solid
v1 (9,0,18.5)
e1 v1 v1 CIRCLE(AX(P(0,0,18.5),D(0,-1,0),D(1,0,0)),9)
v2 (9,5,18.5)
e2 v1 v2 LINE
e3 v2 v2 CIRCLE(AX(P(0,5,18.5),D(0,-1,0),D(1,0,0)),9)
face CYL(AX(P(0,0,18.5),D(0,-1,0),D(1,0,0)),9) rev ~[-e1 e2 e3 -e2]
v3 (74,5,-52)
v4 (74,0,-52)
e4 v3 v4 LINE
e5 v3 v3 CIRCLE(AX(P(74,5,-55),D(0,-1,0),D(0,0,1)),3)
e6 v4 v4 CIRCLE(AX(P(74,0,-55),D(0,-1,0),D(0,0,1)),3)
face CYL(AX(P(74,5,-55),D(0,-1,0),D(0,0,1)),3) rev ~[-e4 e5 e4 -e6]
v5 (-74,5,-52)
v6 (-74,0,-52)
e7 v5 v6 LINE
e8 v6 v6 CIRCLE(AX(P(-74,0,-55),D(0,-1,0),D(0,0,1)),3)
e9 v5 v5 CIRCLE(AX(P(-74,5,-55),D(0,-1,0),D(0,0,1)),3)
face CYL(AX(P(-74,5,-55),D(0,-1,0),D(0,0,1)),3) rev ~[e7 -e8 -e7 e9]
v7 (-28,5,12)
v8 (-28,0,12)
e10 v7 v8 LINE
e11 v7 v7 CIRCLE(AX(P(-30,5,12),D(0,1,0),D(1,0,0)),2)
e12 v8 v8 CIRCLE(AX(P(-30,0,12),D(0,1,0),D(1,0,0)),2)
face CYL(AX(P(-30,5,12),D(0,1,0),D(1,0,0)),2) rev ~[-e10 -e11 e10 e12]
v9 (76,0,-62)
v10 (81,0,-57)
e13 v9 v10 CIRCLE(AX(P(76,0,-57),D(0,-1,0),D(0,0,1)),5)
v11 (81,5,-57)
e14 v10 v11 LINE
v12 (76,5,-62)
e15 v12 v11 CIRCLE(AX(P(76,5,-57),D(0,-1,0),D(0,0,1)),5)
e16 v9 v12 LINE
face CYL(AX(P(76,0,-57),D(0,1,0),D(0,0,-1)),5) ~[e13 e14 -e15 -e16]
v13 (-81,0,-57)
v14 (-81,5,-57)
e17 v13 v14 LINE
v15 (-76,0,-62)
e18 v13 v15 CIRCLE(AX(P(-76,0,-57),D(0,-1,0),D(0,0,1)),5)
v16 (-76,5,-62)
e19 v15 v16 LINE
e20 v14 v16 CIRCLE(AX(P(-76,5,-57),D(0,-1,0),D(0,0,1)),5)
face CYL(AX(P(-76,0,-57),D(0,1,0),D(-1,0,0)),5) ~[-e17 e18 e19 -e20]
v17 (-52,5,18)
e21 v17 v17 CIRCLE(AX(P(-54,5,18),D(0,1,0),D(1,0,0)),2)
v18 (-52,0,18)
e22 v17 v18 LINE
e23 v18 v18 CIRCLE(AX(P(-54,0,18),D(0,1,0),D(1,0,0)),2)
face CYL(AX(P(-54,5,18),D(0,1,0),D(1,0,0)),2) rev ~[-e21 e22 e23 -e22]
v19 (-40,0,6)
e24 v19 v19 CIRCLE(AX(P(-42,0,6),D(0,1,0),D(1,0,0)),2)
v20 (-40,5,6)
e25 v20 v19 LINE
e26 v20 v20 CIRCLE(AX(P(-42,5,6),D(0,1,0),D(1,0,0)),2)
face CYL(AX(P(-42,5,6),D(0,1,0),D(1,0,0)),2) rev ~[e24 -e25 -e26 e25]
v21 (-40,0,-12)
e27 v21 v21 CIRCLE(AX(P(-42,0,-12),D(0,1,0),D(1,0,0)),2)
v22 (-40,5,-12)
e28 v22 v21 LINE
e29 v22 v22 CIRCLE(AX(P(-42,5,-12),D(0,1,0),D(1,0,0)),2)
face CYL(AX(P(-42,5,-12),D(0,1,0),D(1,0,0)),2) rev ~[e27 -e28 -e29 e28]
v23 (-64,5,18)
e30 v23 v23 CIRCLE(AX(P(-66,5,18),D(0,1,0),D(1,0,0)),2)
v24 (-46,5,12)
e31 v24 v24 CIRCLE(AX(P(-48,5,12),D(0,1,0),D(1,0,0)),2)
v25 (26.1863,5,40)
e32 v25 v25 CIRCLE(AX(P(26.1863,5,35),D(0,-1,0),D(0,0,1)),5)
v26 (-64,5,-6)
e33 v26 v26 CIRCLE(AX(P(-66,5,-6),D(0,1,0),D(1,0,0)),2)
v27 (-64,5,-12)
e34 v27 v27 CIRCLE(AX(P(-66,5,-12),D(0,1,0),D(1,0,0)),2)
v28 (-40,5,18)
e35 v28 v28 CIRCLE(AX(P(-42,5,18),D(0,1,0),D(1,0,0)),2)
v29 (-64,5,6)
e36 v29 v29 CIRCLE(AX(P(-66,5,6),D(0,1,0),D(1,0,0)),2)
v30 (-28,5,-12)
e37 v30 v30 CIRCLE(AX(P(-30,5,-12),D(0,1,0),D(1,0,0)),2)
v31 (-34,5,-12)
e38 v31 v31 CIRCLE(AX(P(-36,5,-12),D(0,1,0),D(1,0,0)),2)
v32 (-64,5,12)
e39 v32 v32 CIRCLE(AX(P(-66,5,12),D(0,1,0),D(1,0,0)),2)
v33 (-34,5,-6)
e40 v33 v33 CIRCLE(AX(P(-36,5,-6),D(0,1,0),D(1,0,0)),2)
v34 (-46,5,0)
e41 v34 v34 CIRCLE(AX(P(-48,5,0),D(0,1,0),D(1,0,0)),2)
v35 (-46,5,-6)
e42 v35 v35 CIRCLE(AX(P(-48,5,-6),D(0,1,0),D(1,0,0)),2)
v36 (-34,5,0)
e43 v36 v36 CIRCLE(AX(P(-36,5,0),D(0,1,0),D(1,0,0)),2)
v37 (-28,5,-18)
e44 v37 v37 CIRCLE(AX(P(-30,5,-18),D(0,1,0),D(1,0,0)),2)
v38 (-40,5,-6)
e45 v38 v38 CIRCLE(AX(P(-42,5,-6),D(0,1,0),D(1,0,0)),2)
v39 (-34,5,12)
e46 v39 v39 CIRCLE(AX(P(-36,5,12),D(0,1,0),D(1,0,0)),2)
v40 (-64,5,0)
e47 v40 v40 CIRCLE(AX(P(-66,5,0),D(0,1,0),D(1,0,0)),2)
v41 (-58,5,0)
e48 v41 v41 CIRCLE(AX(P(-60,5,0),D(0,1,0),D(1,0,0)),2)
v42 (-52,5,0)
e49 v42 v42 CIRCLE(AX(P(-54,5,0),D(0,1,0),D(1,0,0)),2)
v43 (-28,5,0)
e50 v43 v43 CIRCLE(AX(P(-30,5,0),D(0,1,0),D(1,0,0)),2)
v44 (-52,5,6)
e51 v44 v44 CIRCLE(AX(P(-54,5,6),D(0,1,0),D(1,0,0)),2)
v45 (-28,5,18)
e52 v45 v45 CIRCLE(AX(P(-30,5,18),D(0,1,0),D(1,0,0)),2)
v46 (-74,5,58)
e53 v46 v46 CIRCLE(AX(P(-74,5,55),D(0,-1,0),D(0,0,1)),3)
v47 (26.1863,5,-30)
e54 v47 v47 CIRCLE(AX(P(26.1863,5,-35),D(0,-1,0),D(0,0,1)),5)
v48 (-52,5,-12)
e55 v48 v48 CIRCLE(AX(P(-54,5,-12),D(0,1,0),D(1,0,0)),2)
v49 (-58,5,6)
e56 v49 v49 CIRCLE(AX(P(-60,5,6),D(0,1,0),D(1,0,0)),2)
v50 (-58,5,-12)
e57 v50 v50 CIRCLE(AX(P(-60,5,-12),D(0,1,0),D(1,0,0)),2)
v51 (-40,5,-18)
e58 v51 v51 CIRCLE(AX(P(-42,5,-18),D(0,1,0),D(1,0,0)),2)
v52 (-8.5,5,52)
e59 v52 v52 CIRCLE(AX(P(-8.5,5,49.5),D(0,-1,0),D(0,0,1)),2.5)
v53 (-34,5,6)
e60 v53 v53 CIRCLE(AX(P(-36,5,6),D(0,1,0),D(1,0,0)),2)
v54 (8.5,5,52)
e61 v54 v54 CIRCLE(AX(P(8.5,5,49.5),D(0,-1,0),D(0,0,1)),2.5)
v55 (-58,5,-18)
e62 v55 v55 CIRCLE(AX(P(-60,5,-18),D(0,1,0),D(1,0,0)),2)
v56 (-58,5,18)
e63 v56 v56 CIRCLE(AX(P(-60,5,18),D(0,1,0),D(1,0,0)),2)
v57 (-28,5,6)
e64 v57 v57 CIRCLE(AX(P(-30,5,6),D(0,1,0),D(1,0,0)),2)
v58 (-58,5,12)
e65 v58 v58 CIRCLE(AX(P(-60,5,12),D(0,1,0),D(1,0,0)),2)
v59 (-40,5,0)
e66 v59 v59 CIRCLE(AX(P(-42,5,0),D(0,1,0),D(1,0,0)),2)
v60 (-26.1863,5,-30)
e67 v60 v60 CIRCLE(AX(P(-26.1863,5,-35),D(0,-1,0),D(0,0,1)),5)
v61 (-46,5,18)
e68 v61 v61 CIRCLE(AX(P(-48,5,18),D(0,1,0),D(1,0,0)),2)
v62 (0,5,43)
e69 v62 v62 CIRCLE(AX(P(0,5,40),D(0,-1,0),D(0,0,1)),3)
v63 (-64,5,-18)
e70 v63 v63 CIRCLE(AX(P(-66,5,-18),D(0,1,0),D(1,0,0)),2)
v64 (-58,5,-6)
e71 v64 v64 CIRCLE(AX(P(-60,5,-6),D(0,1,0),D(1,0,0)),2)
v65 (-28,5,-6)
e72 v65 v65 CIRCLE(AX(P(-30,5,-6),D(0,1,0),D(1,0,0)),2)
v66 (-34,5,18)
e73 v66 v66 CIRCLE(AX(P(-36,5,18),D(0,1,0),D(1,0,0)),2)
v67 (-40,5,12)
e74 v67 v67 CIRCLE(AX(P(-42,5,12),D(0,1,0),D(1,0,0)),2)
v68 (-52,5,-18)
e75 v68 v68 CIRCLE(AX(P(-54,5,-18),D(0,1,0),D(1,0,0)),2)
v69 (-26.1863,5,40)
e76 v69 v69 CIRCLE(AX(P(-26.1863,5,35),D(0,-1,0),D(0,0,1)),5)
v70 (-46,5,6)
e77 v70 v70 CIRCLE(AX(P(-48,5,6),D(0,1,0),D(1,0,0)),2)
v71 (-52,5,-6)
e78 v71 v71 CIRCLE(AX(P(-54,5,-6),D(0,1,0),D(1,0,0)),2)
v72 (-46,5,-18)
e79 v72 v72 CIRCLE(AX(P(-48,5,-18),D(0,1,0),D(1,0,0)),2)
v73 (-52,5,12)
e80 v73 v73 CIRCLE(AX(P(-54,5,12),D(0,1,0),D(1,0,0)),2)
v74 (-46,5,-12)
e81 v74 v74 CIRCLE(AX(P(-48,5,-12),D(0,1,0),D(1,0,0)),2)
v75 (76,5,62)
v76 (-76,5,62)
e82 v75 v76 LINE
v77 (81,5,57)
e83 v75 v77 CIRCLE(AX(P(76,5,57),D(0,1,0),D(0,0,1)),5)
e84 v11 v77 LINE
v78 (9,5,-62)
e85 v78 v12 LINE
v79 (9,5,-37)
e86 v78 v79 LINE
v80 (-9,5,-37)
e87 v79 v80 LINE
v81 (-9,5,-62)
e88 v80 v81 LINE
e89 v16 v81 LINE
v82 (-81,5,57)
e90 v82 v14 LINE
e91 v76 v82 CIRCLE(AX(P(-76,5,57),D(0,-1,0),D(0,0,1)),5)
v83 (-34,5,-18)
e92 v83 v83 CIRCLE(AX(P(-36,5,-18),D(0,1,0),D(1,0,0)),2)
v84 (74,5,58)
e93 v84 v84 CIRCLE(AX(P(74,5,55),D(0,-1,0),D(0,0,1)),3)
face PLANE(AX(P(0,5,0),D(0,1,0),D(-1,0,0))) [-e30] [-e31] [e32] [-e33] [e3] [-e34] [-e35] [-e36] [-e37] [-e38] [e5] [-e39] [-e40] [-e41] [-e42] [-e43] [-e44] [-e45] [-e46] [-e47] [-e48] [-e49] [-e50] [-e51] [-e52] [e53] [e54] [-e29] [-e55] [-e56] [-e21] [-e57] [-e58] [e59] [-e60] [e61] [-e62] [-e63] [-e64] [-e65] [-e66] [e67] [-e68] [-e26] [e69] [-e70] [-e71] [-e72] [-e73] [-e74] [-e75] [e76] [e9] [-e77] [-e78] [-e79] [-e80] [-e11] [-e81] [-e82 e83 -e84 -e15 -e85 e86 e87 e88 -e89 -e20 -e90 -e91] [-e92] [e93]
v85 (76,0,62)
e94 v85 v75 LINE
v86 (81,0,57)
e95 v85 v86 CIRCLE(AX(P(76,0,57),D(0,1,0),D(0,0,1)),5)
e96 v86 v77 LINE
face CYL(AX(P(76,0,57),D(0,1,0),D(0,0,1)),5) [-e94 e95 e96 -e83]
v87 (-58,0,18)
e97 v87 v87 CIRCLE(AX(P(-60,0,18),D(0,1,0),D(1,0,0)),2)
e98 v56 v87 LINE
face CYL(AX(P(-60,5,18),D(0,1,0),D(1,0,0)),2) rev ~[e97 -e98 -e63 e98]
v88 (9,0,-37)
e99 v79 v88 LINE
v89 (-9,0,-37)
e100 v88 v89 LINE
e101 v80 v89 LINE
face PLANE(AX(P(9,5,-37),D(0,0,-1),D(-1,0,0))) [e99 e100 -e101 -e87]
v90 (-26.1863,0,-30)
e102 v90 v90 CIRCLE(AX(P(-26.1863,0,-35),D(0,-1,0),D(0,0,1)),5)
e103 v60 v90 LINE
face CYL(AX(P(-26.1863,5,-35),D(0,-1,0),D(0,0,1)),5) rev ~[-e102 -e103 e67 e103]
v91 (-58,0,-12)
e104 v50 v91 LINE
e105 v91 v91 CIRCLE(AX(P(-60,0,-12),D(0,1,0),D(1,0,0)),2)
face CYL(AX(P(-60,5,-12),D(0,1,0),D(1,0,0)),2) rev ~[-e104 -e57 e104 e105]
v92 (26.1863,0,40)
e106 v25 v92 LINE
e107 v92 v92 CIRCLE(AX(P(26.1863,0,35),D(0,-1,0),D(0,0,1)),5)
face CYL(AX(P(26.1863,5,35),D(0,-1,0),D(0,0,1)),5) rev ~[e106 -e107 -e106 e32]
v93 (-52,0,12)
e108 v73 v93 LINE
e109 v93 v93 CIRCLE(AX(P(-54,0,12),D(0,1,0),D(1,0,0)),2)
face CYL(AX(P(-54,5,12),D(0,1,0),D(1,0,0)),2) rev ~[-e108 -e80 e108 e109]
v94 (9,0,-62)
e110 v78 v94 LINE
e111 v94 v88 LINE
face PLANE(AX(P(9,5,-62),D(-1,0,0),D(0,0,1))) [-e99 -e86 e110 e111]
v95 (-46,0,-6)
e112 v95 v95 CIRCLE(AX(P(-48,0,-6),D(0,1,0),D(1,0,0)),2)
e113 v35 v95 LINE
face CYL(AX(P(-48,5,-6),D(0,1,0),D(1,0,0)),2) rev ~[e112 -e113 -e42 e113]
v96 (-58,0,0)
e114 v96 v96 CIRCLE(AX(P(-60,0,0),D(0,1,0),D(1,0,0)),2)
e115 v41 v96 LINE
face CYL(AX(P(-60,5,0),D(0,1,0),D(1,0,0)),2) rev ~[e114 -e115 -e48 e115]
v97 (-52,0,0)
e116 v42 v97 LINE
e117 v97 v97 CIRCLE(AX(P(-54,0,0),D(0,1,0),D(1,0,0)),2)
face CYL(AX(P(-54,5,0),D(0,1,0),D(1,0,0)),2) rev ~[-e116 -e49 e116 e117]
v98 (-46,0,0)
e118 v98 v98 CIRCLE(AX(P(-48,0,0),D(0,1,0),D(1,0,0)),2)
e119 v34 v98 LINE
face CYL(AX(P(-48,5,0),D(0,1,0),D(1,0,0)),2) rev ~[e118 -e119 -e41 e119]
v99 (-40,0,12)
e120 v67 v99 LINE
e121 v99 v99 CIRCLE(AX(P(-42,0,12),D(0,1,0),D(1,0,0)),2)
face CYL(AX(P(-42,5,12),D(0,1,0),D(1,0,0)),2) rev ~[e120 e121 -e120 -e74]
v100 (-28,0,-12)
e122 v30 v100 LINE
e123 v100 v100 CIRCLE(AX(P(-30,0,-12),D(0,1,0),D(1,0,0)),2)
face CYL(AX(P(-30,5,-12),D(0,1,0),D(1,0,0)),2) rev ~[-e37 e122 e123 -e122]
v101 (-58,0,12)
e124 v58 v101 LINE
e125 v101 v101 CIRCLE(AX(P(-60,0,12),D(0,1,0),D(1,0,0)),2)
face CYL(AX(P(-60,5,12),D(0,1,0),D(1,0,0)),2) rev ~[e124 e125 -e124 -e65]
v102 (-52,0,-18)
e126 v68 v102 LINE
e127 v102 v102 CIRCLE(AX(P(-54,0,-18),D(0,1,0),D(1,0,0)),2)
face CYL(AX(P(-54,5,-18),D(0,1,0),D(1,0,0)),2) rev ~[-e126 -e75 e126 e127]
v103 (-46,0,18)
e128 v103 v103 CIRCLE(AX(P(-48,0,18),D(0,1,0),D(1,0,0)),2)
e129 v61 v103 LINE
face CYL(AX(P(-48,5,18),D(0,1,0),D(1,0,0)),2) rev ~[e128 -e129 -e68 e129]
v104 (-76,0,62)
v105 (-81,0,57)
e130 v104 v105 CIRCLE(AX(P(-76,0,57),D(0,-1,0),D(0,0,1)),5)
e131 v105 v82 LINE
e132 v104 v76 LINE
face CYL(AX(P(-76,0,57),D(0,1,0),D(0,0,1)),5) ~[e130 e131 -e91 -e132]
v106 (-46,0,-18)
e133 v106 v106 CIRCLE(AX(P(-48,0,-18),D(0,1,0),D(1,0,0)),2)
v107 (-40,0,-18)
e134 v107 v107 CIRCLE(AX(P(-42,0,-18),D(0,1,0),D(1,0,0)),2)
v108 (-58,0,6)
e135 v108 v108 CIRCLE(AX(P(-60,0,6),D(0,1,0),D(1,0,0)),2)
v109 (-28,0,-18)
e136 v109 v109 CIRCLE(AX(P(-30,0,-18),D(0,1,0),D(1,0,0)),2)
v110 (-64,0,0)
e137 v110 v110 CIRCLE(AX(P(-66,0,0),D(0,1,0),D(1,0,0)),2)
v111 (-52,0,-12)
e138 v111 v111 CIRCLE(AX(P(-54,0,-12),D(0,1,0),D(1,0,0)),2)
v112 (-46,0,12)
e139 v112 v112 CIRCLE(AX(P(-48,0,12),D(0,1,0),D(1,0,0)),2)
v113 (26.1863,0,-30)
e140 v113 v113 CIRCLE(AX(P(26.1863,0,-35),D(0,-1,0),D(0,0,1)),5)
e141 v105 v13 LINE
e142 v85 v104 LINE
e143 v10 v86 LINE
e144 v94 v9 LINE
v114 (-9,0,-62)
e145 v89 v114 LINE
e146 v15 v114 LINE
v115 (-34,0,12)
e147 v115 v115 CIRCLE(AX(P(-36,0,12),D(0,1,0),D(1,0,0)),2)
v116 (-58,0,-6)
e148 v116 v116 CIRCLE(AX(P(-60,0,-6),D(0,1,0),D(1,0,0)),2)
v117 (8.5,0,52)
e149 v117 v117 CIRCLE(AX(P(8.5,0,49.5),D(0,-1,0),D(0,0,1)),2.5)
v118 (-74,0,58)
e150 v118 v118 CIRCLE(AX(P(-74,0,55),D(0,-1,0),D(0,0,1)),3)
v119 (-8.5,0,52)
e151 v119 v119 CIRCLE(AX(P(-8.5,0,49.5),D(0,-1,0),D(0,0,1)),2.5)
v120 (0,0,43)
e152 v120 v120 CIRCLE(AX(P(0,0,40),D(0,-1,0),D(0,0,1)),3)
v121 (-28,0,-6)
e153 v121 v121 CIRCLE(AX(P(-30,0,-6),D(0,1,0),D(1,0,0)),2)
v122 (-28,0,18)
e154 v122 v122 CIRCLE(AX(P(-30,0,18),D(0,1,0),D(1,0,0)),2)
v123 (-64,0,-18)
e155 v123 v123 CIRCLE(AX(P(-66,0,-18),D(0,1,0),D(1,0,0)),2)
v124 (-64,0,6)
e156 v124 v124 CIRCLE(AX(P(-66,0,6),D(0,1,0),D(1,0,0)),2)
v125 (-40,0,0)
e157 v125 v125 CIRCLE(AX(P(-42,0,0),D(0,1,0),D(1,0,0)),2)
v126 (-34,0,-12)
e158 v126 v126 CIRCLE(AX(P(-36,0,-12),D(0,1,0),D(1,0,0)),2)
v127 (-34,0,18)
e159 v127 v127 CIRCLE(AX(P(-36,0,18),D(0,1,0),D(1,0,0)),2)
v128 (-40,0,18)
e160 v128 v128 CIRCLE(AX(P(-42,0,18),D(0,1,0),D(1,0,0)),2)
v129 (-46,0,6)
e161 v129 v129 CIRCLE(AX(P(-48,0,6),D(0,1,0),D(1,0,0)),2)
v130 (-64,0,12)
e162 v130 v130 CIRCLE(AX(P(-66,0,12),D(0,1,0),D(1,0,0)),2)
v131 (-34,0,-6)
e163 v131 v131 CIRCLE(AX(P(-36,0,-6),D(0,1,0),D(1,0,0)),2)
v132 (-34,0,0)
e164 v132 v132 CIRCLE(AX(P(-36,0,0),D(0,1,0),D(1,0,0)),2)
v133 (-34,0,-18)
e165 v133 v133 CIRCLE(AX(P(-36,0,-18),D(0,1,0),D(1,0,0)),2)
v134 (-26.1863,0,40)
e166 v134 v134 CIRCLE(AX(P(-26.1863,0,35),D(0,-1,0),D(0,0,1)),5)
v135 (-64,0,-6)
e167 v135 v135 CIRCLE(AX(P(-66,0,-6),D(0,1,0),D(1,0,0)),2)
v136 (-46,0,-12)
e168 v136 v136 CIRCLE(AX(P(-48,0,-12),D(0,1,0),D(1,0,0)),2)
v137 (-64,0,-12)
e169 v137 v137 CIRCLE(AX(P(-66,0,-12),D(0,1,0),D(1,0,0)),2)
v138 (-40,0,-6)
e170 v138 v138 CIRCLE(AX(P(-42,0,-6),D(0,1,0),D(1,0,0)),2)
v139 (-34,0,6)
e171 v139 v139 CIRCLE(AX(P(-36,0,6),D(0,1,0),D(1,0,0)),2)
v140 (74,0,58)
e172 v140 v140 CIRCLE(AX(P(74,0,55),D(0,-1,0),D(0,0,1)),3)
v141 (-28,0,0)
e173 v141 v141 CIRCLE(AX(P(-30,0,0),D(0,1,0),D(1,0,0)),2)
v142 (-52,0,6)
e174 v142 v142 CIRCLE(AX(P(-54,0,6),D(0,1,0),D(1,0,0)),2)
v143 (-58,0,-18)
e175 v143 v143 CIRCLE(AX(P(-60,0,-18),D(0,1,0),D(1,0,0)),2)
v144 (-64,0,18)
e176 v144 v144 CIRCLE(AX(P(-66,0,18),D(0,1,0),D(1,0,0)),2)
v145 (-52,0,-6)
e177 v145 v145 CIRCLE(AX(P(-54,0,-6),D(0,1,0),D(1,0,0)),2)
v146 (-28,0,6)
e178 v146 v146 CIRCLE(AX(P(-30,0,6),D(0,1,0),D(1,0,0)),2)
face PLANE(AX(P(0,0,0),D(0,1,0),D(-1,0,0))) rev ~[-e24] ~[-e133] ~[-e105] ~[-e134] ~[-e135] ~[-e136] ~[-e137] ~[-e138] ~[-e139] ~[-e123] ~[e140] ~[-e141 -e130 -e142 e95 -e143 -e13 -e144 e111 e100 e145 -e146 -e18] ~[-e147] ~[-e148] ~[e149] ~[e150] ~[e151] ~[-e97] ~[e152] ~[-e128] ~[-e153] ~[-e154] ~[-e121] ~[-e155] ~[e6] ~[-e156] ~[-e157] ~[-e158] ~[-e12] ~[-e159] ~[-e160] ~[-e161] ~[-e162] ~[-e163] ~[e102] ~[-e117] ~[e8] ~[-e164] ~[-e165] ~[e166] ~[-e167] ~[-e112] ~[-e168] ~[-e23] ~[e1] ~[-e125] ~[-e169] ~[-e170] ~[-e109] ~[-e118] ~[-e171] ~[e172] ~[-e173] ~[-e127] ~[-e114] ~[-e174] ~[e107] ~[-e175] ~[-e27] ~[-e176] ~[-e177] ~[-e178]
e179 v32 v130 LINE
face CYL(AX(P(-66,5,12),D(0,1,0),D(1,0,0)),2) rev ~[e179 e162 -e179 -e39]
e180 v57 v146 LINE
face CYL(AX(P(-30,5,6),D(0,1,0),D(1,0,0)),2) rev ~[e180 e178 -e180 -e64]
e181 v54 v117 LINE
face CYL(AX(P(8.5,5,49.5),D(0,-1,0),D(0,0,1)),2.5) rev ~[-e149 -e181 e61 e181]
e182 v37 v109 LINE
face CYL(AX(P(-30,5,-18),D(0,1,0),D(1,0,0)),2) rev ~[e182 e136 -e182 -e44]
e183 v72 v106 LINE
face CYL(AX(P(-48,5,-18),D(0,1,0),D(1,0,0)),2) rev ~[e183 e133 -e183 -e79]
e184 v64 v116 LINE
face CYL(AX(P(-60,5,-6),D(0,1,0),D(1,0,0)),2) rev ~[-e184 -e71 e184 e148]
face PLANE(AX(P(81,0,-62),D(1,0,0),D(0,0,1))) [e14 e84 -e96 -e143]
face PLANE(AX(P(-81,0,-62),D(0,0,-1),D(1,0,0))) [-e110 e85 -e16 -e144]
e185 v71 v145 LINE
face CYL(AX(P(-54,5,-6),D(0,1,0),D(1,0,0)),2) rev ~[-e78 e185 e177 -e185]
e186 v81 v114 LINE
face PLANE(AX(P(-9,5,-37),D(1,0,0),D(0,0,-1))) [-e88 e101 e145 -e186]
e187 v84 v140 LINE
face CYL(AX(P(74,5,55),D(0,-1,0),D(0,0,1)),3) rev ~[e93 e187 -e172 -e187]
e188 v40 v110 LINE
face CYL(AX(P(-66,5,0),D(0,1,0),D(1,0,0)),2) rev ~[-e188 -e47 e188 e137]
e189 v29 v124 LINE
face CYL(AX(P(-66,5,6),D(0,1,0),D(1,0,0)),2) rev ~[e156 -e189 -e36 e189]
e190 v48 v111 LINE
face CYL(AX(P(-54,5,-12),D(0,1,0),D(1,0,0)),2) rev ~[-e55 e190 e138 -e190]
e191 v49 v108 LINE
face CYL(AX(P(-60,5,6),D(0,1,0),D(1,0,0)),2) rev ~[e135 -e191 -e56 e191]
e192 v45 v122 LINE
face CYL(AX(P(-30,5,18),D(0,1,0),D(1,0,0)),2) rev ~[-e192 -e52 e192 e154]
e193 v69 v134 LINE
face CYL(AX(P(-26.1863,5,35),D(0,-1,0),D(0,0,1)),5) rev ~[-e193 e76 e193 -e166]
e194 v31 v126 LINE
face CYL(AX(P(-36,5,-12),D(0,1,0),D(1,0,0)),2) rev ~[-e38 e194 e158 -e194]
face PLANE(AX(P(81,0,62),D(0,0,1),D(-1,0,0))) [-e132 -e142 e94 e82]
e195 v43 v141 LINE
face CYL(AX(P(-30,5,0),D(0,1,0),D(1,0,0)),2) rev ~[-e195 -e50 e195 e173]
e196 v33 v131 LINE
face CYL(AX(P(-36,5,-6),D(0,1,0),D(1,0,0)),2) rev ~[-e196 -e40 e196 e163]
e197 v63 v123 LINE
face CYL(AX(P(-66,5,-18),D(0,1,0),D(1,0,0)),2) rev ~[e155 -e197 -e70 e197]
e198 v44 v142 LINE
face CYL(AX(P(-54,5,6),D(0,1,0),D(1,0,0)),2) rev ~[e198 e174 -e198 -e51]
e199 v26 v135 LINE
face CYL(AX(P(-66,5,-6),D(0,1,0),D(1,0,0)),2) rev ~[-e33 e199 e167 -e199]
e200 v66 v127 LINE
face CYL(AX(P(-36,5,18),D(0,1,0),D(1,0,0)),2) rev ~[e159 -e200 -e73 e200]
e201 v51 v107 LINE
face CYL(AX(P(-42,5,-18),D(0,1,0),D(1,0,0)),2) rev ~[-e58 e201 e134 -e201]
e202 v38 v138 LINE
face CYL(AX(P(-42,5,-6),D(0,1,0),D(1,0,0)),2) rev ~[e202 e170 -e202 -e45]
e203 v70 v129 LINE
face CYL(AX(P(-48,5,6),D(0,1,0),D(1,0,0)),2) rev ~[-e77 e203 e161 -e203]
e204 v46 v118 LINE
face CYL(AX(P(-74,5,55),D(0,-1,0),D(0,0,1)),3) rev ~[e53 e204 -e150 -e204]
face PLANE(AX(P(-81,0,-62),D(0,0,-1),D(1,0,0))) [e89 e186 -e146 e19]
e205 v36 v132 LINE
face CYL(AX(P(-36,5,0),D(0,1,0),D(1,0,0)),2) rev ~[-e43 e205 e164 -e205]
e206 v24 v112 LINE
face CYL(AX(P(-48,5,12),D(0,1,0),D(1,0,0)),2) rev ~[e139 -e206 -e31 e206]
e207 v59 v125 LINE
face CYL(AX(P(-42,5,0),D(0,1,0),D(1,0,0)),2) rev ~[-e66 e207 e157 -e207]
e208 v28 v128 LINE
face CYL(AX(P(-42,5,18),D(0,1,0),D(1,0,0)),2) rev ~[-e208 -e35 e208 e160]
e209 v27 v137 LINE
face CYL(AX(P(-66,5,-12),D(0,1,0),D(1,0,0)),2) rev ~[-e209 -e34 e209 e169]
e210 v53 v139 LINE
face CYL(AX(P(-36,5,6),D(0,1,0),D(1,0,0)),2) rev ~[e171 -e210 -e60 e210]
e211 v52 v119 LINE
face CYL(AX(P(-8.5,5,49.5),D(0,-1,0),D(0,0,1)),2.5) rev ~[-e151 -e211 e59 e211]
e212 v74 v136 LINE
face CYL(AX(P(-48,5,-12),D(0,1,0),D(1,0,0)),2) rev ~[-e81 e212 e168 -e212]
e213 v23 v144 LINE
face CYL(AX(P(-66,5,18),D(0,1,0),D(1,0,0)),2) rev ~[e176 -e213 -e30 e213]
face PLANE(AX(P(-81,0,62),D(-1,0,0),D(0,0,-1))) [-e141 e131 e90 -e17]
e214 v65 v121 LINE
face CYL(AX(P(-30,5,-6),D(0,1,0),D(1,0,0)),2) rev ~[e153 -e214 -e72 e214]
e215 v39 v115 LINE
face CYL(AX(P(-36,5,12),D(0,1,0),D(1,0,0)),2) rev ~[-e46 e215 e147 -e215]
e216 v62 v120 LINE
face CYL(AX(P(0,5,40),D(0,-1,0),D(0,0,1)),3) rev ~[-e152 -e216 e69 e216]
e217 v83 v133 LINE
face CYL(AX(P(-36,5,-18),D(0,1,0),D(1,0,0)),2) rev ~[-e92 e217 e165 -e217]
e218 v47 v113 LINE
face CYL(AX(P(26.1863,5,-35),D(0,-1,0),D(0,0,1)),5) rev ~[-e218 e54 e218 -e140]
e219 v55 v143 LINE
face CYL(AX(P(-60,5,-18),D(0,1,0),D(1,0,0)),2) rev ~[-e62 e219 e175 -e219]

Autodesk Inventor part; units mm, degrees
ref_plane "YZ Plane" through (0, 0, 0) normal (1, 0, 0) x (0, 1, 0)
ref_plane "XZ Plane" through (0, 0, 0) normal (0, 1, 0) x (-1, 0, 0)
ref_plane "XY Plane" through (0, 0, 0) normal (0, 0, 1) x (1, 0, 0)
sketch "Sketch1" plane through (0, 0, 0) normal (0, 1, 0) x (-1, 0, 0)
  line L0 (-81, 62) -> (81, 62)
  line L1 (81, 62) -> (81, -62)
  line L2 (81, -62) -> (-81, -62)
  line L3 (-81, -62) -> (-81, 62)
  point P0 (0, 0)
  dimension "d117" = 124
  dimension "d118" = 162
  dimension "d119" = 81
  dimension "d120" = 62
extrude "Extrusion1" add sketch "Sketch1" along normal blind 5
fillet "Fillet1" radius 5 4 edges at (81, 2.5, 62) (81, 2.5, -62) (-81, 2.5, -62) (-81, 2.5, 62)
sketch "Sketch3" plane through (0, 5, 0) normal (0, 1, 0) x (1, 0, 0)
  circle A0 centre (74, -55) radius 3
  circle A1 centre (-74, -55) radius 3
  circle A2 centre (-74, 55) radius 3
  circle A3 centre (74, 55) radius 3
  line L0 (-76, -62) -> (76, -62) projected
  line L1 (81, -57) -> (81, 57) projected
  line L2 (-81, 57) -> (-81, -57) projected
  line L3 (76, 62) -> (-76, 62) projected
  point P0 (0, 0)
  dimension "d121" = 6
  dimension "d122" = 7
  dimension "d123" = 7
  dimension "d124" = 7
  dimension "d125" = 7
hole "Hole1" at (74, 5, 55) at (-74, 5, 55) at (74, 5, -55) at (-74, 5, -55) direction (0, -1, 0) diameter 6 end through all
sketch "Sketch4" plane through (0, 5, 0) normal (0, 1, 0) x (1, 0, 0)
  circle A0 centre (26.1863, -35) radius 5
  circle A1 centre (-26.1863, -35) radius 5
  circle A2 centre (0, 10.5) radius 5
  circle A3 centre (26.1863, 35) radius 5
  circle A4 centre (-26.1863, 35) radius 5
  point P0 (0, 0)
  dimension "d130" = 10
  dimension "d131" = 24.5
  dimension "d132" = 70
  dimension "d133" = 52.3726
  dimension "d134" = 26.1863
  dimension "d135" = 26.1863
  dimension "d136" = 35
hole "Hole2" at (-26.1863, 5, 35) at (26.1863, 5, 35) at (26.1863, 5, -35) at (-26.1863, 5, -35) direction (0, -1, 0) diameter 10 end through all
sketch "Sketch5" plane through (0, 0, 0) normal (0, -1, 0) x (1, 0, 0)
  circle A0 centre (0, 18.5) radius 9
  line L0 (-76, 62) -> (76, 62) projected
  point P0 (0, 0)
  dimension "d33" = 18
  dimension "d137" = 43.5
extrude "Extrusion3" cut sketch "Sketch5" against normal blind 10
sketch "Sketch7" plane through (0, 5, 0) normal (0, 1, 0) x (1, 0, 0)
  line L0 (9, 37) -> (-9, 37)
  line L1 (-9, 37) -> (-9, 72)
  line L2 (-9, 72) -> (9, 72)
  line L3 (9, 72) -> (9, 37)
  line L4 (76, 62) -> (-76, 62) projected
  point P0 (0, 0)
  point P1 (9, 62)
  point P2 (-9, 62)
  dimension "d138" = 35
  dimension "d139" = 10
  dimension "d140" = 18
  dimension "d141" = 9
extrude "Extrusion5" cut sketch "Sketch7" against normal through all contours L0 L1 L4 L3
sketch "Sketch9" plane through (0, 5, 0) normal (0, 1, 0) x (1, 0, 0)
  circle A0 centre (-8.5, -49.5) radius 1.5
  circle A1 centre (8.5, -49.5) radius 1.5
  line L0 (-76, -62) -> (76, -62) projected
  line L1 (81, -57) -> (81, 57) projected
  line L2 (-81, 57) -> (-81, -57) projected
  dimension "d51" = 3
  dimension "d53" = 3
  dimension "d142" = 12.5
  dimension "d143" = 72.5
  dimension "d144" = 72.5
hole "Hole4" at (-8.5, 5, 49.5) at (8.5, 5, 49.5) direction (0, -1, 0) diameter 5 end through all
sketch "Sketch10" plane through (0, 5, 0) normal (0, 1, 0) x (1, 0, 0)
  circle A0 centre (0, -40) radius 3
  line L0 (-76, -62) -> (76, -62) projected
  point P0 (0, 0)
  dimension "d64" = 6
  dimension "d145" = 22
hole "Hole5" at (0, 5, 40) direction (0, -1, 0) diameter 6 depth 20 tip angle 118
sketch "Sketch13" plane through (0, 5, 0) normal (0, 1, 0) x (1, 0, 0)
  circle A0 centre (-66, 18) radius 2
  line L0 (-92, 62) -> (-157, 62) construction
  line L1 (-81, 110) -> (-81, -20) construction
  circle A1 centre (-66, 12) radius 2
  circle A2 centre (-66, 6) radius 2
  circle A3 centre (-66, 0) radius 2
  circle A4 centre (-66, -6) radius 2
  circle A5 centre (-66, -12) radius 2
  circle A6 centre (-66, -18) radius 2
  circle A7 centre (-60, 18) radius 2
  circle A8 centre (-60, 12) radius 2
  circle A9 centre (-60, 6) radius 2
  circle A10 centre (-60, 0) radius 2
  circle A11 centre (-60, -6) radius 2
  circle A12 centre (-60, -12) radius 2
  circle A13 centre (-60, -18) radius 2
  circle A14 centre (-54, 18) radius 2
  circle A15 centre (-54, 12) radius 2
  circle A16 centre (-54, 6) radius 2
  circle A17 centre (-54, 0) radius 2
  circle A18 centre (-54, -6) radius 2
  circle A19 centre (-54, -12) radius 2
  circle A20 centre (-54, -18) radius 2
  circle A21 centre (-48, 18) radius 2
  circle A22 centre (-48, 12) radius 2
  circle A23 centre (-48, 6) radius 2
  circle A24 centre (-48, 0) radius 2
  circle A25 centre (-48, -6) radius 2
  circle A26 centre (-48, -12) radius 2
  circle A27 centre (-48, -18) radius 2
  circle A28 centre (-42, 18) radius 2
  circle A29 centre (-42, 12) radius 2
  circle A30 centre (-42, 6) radius 2
  circle A31 centre (-42, 0) radius 2
  circle A32 centre (-42, -6) radius 2
  circle A33 centre (-42, -12) radius 2
  circle A34 centre (-42, -18) radius 2
  circle A35 centre (-36, 18) radius 2
  circle A36 centre (-36, 12) radius 2
  circle A37 centre (-36, 6) radius 2
  circle A38 centre (-36, 0) radius 2
  circle A39 centre (-36, -6) radius 2
  circle A40 centre (-36, -12) radius 2
  circle A41 centre (-36, -18) radius 2
  circle A42 centre (-30, 18) radius 2
  circle A43 centre (-30, 12) radius 2
  circle A44 centre (-30, 6) radius 2
  circle A45 centre (-30, 0) radius 2
  circle A46 centre (-30, -6) radius 2
  circle A47 centre (-30, -12) radius 2
  circle A48 centre (-30, -18) radius 2
  line L2 (-81, 57) -> (-81, -57) projected
  line L3 (-9, 62) -> (-76, 62) projected
  point P0 (0, 0)
  dimension "d101" = 44
  dimension "d102" = 15
  dimension "d103" = 4
  dimension "d106" = 6
  dimension "d109" = 6
  dimension "d146" = 0
  dimension "d147" = 0
extrude "Extrusion7" cut sketch "Sketch13" against normal through all
equation "\"d119\" = 0.5 * d118"
equation "\"d135\" = 0.5 * d133"
equation "\"d136\" = 0.5 * d132"
equation "\"d141\" = 0.5 * d140"
equation "\"d68\" = d64"
properties part number "x_axis_plate_top_t" material "PET Plastic"
